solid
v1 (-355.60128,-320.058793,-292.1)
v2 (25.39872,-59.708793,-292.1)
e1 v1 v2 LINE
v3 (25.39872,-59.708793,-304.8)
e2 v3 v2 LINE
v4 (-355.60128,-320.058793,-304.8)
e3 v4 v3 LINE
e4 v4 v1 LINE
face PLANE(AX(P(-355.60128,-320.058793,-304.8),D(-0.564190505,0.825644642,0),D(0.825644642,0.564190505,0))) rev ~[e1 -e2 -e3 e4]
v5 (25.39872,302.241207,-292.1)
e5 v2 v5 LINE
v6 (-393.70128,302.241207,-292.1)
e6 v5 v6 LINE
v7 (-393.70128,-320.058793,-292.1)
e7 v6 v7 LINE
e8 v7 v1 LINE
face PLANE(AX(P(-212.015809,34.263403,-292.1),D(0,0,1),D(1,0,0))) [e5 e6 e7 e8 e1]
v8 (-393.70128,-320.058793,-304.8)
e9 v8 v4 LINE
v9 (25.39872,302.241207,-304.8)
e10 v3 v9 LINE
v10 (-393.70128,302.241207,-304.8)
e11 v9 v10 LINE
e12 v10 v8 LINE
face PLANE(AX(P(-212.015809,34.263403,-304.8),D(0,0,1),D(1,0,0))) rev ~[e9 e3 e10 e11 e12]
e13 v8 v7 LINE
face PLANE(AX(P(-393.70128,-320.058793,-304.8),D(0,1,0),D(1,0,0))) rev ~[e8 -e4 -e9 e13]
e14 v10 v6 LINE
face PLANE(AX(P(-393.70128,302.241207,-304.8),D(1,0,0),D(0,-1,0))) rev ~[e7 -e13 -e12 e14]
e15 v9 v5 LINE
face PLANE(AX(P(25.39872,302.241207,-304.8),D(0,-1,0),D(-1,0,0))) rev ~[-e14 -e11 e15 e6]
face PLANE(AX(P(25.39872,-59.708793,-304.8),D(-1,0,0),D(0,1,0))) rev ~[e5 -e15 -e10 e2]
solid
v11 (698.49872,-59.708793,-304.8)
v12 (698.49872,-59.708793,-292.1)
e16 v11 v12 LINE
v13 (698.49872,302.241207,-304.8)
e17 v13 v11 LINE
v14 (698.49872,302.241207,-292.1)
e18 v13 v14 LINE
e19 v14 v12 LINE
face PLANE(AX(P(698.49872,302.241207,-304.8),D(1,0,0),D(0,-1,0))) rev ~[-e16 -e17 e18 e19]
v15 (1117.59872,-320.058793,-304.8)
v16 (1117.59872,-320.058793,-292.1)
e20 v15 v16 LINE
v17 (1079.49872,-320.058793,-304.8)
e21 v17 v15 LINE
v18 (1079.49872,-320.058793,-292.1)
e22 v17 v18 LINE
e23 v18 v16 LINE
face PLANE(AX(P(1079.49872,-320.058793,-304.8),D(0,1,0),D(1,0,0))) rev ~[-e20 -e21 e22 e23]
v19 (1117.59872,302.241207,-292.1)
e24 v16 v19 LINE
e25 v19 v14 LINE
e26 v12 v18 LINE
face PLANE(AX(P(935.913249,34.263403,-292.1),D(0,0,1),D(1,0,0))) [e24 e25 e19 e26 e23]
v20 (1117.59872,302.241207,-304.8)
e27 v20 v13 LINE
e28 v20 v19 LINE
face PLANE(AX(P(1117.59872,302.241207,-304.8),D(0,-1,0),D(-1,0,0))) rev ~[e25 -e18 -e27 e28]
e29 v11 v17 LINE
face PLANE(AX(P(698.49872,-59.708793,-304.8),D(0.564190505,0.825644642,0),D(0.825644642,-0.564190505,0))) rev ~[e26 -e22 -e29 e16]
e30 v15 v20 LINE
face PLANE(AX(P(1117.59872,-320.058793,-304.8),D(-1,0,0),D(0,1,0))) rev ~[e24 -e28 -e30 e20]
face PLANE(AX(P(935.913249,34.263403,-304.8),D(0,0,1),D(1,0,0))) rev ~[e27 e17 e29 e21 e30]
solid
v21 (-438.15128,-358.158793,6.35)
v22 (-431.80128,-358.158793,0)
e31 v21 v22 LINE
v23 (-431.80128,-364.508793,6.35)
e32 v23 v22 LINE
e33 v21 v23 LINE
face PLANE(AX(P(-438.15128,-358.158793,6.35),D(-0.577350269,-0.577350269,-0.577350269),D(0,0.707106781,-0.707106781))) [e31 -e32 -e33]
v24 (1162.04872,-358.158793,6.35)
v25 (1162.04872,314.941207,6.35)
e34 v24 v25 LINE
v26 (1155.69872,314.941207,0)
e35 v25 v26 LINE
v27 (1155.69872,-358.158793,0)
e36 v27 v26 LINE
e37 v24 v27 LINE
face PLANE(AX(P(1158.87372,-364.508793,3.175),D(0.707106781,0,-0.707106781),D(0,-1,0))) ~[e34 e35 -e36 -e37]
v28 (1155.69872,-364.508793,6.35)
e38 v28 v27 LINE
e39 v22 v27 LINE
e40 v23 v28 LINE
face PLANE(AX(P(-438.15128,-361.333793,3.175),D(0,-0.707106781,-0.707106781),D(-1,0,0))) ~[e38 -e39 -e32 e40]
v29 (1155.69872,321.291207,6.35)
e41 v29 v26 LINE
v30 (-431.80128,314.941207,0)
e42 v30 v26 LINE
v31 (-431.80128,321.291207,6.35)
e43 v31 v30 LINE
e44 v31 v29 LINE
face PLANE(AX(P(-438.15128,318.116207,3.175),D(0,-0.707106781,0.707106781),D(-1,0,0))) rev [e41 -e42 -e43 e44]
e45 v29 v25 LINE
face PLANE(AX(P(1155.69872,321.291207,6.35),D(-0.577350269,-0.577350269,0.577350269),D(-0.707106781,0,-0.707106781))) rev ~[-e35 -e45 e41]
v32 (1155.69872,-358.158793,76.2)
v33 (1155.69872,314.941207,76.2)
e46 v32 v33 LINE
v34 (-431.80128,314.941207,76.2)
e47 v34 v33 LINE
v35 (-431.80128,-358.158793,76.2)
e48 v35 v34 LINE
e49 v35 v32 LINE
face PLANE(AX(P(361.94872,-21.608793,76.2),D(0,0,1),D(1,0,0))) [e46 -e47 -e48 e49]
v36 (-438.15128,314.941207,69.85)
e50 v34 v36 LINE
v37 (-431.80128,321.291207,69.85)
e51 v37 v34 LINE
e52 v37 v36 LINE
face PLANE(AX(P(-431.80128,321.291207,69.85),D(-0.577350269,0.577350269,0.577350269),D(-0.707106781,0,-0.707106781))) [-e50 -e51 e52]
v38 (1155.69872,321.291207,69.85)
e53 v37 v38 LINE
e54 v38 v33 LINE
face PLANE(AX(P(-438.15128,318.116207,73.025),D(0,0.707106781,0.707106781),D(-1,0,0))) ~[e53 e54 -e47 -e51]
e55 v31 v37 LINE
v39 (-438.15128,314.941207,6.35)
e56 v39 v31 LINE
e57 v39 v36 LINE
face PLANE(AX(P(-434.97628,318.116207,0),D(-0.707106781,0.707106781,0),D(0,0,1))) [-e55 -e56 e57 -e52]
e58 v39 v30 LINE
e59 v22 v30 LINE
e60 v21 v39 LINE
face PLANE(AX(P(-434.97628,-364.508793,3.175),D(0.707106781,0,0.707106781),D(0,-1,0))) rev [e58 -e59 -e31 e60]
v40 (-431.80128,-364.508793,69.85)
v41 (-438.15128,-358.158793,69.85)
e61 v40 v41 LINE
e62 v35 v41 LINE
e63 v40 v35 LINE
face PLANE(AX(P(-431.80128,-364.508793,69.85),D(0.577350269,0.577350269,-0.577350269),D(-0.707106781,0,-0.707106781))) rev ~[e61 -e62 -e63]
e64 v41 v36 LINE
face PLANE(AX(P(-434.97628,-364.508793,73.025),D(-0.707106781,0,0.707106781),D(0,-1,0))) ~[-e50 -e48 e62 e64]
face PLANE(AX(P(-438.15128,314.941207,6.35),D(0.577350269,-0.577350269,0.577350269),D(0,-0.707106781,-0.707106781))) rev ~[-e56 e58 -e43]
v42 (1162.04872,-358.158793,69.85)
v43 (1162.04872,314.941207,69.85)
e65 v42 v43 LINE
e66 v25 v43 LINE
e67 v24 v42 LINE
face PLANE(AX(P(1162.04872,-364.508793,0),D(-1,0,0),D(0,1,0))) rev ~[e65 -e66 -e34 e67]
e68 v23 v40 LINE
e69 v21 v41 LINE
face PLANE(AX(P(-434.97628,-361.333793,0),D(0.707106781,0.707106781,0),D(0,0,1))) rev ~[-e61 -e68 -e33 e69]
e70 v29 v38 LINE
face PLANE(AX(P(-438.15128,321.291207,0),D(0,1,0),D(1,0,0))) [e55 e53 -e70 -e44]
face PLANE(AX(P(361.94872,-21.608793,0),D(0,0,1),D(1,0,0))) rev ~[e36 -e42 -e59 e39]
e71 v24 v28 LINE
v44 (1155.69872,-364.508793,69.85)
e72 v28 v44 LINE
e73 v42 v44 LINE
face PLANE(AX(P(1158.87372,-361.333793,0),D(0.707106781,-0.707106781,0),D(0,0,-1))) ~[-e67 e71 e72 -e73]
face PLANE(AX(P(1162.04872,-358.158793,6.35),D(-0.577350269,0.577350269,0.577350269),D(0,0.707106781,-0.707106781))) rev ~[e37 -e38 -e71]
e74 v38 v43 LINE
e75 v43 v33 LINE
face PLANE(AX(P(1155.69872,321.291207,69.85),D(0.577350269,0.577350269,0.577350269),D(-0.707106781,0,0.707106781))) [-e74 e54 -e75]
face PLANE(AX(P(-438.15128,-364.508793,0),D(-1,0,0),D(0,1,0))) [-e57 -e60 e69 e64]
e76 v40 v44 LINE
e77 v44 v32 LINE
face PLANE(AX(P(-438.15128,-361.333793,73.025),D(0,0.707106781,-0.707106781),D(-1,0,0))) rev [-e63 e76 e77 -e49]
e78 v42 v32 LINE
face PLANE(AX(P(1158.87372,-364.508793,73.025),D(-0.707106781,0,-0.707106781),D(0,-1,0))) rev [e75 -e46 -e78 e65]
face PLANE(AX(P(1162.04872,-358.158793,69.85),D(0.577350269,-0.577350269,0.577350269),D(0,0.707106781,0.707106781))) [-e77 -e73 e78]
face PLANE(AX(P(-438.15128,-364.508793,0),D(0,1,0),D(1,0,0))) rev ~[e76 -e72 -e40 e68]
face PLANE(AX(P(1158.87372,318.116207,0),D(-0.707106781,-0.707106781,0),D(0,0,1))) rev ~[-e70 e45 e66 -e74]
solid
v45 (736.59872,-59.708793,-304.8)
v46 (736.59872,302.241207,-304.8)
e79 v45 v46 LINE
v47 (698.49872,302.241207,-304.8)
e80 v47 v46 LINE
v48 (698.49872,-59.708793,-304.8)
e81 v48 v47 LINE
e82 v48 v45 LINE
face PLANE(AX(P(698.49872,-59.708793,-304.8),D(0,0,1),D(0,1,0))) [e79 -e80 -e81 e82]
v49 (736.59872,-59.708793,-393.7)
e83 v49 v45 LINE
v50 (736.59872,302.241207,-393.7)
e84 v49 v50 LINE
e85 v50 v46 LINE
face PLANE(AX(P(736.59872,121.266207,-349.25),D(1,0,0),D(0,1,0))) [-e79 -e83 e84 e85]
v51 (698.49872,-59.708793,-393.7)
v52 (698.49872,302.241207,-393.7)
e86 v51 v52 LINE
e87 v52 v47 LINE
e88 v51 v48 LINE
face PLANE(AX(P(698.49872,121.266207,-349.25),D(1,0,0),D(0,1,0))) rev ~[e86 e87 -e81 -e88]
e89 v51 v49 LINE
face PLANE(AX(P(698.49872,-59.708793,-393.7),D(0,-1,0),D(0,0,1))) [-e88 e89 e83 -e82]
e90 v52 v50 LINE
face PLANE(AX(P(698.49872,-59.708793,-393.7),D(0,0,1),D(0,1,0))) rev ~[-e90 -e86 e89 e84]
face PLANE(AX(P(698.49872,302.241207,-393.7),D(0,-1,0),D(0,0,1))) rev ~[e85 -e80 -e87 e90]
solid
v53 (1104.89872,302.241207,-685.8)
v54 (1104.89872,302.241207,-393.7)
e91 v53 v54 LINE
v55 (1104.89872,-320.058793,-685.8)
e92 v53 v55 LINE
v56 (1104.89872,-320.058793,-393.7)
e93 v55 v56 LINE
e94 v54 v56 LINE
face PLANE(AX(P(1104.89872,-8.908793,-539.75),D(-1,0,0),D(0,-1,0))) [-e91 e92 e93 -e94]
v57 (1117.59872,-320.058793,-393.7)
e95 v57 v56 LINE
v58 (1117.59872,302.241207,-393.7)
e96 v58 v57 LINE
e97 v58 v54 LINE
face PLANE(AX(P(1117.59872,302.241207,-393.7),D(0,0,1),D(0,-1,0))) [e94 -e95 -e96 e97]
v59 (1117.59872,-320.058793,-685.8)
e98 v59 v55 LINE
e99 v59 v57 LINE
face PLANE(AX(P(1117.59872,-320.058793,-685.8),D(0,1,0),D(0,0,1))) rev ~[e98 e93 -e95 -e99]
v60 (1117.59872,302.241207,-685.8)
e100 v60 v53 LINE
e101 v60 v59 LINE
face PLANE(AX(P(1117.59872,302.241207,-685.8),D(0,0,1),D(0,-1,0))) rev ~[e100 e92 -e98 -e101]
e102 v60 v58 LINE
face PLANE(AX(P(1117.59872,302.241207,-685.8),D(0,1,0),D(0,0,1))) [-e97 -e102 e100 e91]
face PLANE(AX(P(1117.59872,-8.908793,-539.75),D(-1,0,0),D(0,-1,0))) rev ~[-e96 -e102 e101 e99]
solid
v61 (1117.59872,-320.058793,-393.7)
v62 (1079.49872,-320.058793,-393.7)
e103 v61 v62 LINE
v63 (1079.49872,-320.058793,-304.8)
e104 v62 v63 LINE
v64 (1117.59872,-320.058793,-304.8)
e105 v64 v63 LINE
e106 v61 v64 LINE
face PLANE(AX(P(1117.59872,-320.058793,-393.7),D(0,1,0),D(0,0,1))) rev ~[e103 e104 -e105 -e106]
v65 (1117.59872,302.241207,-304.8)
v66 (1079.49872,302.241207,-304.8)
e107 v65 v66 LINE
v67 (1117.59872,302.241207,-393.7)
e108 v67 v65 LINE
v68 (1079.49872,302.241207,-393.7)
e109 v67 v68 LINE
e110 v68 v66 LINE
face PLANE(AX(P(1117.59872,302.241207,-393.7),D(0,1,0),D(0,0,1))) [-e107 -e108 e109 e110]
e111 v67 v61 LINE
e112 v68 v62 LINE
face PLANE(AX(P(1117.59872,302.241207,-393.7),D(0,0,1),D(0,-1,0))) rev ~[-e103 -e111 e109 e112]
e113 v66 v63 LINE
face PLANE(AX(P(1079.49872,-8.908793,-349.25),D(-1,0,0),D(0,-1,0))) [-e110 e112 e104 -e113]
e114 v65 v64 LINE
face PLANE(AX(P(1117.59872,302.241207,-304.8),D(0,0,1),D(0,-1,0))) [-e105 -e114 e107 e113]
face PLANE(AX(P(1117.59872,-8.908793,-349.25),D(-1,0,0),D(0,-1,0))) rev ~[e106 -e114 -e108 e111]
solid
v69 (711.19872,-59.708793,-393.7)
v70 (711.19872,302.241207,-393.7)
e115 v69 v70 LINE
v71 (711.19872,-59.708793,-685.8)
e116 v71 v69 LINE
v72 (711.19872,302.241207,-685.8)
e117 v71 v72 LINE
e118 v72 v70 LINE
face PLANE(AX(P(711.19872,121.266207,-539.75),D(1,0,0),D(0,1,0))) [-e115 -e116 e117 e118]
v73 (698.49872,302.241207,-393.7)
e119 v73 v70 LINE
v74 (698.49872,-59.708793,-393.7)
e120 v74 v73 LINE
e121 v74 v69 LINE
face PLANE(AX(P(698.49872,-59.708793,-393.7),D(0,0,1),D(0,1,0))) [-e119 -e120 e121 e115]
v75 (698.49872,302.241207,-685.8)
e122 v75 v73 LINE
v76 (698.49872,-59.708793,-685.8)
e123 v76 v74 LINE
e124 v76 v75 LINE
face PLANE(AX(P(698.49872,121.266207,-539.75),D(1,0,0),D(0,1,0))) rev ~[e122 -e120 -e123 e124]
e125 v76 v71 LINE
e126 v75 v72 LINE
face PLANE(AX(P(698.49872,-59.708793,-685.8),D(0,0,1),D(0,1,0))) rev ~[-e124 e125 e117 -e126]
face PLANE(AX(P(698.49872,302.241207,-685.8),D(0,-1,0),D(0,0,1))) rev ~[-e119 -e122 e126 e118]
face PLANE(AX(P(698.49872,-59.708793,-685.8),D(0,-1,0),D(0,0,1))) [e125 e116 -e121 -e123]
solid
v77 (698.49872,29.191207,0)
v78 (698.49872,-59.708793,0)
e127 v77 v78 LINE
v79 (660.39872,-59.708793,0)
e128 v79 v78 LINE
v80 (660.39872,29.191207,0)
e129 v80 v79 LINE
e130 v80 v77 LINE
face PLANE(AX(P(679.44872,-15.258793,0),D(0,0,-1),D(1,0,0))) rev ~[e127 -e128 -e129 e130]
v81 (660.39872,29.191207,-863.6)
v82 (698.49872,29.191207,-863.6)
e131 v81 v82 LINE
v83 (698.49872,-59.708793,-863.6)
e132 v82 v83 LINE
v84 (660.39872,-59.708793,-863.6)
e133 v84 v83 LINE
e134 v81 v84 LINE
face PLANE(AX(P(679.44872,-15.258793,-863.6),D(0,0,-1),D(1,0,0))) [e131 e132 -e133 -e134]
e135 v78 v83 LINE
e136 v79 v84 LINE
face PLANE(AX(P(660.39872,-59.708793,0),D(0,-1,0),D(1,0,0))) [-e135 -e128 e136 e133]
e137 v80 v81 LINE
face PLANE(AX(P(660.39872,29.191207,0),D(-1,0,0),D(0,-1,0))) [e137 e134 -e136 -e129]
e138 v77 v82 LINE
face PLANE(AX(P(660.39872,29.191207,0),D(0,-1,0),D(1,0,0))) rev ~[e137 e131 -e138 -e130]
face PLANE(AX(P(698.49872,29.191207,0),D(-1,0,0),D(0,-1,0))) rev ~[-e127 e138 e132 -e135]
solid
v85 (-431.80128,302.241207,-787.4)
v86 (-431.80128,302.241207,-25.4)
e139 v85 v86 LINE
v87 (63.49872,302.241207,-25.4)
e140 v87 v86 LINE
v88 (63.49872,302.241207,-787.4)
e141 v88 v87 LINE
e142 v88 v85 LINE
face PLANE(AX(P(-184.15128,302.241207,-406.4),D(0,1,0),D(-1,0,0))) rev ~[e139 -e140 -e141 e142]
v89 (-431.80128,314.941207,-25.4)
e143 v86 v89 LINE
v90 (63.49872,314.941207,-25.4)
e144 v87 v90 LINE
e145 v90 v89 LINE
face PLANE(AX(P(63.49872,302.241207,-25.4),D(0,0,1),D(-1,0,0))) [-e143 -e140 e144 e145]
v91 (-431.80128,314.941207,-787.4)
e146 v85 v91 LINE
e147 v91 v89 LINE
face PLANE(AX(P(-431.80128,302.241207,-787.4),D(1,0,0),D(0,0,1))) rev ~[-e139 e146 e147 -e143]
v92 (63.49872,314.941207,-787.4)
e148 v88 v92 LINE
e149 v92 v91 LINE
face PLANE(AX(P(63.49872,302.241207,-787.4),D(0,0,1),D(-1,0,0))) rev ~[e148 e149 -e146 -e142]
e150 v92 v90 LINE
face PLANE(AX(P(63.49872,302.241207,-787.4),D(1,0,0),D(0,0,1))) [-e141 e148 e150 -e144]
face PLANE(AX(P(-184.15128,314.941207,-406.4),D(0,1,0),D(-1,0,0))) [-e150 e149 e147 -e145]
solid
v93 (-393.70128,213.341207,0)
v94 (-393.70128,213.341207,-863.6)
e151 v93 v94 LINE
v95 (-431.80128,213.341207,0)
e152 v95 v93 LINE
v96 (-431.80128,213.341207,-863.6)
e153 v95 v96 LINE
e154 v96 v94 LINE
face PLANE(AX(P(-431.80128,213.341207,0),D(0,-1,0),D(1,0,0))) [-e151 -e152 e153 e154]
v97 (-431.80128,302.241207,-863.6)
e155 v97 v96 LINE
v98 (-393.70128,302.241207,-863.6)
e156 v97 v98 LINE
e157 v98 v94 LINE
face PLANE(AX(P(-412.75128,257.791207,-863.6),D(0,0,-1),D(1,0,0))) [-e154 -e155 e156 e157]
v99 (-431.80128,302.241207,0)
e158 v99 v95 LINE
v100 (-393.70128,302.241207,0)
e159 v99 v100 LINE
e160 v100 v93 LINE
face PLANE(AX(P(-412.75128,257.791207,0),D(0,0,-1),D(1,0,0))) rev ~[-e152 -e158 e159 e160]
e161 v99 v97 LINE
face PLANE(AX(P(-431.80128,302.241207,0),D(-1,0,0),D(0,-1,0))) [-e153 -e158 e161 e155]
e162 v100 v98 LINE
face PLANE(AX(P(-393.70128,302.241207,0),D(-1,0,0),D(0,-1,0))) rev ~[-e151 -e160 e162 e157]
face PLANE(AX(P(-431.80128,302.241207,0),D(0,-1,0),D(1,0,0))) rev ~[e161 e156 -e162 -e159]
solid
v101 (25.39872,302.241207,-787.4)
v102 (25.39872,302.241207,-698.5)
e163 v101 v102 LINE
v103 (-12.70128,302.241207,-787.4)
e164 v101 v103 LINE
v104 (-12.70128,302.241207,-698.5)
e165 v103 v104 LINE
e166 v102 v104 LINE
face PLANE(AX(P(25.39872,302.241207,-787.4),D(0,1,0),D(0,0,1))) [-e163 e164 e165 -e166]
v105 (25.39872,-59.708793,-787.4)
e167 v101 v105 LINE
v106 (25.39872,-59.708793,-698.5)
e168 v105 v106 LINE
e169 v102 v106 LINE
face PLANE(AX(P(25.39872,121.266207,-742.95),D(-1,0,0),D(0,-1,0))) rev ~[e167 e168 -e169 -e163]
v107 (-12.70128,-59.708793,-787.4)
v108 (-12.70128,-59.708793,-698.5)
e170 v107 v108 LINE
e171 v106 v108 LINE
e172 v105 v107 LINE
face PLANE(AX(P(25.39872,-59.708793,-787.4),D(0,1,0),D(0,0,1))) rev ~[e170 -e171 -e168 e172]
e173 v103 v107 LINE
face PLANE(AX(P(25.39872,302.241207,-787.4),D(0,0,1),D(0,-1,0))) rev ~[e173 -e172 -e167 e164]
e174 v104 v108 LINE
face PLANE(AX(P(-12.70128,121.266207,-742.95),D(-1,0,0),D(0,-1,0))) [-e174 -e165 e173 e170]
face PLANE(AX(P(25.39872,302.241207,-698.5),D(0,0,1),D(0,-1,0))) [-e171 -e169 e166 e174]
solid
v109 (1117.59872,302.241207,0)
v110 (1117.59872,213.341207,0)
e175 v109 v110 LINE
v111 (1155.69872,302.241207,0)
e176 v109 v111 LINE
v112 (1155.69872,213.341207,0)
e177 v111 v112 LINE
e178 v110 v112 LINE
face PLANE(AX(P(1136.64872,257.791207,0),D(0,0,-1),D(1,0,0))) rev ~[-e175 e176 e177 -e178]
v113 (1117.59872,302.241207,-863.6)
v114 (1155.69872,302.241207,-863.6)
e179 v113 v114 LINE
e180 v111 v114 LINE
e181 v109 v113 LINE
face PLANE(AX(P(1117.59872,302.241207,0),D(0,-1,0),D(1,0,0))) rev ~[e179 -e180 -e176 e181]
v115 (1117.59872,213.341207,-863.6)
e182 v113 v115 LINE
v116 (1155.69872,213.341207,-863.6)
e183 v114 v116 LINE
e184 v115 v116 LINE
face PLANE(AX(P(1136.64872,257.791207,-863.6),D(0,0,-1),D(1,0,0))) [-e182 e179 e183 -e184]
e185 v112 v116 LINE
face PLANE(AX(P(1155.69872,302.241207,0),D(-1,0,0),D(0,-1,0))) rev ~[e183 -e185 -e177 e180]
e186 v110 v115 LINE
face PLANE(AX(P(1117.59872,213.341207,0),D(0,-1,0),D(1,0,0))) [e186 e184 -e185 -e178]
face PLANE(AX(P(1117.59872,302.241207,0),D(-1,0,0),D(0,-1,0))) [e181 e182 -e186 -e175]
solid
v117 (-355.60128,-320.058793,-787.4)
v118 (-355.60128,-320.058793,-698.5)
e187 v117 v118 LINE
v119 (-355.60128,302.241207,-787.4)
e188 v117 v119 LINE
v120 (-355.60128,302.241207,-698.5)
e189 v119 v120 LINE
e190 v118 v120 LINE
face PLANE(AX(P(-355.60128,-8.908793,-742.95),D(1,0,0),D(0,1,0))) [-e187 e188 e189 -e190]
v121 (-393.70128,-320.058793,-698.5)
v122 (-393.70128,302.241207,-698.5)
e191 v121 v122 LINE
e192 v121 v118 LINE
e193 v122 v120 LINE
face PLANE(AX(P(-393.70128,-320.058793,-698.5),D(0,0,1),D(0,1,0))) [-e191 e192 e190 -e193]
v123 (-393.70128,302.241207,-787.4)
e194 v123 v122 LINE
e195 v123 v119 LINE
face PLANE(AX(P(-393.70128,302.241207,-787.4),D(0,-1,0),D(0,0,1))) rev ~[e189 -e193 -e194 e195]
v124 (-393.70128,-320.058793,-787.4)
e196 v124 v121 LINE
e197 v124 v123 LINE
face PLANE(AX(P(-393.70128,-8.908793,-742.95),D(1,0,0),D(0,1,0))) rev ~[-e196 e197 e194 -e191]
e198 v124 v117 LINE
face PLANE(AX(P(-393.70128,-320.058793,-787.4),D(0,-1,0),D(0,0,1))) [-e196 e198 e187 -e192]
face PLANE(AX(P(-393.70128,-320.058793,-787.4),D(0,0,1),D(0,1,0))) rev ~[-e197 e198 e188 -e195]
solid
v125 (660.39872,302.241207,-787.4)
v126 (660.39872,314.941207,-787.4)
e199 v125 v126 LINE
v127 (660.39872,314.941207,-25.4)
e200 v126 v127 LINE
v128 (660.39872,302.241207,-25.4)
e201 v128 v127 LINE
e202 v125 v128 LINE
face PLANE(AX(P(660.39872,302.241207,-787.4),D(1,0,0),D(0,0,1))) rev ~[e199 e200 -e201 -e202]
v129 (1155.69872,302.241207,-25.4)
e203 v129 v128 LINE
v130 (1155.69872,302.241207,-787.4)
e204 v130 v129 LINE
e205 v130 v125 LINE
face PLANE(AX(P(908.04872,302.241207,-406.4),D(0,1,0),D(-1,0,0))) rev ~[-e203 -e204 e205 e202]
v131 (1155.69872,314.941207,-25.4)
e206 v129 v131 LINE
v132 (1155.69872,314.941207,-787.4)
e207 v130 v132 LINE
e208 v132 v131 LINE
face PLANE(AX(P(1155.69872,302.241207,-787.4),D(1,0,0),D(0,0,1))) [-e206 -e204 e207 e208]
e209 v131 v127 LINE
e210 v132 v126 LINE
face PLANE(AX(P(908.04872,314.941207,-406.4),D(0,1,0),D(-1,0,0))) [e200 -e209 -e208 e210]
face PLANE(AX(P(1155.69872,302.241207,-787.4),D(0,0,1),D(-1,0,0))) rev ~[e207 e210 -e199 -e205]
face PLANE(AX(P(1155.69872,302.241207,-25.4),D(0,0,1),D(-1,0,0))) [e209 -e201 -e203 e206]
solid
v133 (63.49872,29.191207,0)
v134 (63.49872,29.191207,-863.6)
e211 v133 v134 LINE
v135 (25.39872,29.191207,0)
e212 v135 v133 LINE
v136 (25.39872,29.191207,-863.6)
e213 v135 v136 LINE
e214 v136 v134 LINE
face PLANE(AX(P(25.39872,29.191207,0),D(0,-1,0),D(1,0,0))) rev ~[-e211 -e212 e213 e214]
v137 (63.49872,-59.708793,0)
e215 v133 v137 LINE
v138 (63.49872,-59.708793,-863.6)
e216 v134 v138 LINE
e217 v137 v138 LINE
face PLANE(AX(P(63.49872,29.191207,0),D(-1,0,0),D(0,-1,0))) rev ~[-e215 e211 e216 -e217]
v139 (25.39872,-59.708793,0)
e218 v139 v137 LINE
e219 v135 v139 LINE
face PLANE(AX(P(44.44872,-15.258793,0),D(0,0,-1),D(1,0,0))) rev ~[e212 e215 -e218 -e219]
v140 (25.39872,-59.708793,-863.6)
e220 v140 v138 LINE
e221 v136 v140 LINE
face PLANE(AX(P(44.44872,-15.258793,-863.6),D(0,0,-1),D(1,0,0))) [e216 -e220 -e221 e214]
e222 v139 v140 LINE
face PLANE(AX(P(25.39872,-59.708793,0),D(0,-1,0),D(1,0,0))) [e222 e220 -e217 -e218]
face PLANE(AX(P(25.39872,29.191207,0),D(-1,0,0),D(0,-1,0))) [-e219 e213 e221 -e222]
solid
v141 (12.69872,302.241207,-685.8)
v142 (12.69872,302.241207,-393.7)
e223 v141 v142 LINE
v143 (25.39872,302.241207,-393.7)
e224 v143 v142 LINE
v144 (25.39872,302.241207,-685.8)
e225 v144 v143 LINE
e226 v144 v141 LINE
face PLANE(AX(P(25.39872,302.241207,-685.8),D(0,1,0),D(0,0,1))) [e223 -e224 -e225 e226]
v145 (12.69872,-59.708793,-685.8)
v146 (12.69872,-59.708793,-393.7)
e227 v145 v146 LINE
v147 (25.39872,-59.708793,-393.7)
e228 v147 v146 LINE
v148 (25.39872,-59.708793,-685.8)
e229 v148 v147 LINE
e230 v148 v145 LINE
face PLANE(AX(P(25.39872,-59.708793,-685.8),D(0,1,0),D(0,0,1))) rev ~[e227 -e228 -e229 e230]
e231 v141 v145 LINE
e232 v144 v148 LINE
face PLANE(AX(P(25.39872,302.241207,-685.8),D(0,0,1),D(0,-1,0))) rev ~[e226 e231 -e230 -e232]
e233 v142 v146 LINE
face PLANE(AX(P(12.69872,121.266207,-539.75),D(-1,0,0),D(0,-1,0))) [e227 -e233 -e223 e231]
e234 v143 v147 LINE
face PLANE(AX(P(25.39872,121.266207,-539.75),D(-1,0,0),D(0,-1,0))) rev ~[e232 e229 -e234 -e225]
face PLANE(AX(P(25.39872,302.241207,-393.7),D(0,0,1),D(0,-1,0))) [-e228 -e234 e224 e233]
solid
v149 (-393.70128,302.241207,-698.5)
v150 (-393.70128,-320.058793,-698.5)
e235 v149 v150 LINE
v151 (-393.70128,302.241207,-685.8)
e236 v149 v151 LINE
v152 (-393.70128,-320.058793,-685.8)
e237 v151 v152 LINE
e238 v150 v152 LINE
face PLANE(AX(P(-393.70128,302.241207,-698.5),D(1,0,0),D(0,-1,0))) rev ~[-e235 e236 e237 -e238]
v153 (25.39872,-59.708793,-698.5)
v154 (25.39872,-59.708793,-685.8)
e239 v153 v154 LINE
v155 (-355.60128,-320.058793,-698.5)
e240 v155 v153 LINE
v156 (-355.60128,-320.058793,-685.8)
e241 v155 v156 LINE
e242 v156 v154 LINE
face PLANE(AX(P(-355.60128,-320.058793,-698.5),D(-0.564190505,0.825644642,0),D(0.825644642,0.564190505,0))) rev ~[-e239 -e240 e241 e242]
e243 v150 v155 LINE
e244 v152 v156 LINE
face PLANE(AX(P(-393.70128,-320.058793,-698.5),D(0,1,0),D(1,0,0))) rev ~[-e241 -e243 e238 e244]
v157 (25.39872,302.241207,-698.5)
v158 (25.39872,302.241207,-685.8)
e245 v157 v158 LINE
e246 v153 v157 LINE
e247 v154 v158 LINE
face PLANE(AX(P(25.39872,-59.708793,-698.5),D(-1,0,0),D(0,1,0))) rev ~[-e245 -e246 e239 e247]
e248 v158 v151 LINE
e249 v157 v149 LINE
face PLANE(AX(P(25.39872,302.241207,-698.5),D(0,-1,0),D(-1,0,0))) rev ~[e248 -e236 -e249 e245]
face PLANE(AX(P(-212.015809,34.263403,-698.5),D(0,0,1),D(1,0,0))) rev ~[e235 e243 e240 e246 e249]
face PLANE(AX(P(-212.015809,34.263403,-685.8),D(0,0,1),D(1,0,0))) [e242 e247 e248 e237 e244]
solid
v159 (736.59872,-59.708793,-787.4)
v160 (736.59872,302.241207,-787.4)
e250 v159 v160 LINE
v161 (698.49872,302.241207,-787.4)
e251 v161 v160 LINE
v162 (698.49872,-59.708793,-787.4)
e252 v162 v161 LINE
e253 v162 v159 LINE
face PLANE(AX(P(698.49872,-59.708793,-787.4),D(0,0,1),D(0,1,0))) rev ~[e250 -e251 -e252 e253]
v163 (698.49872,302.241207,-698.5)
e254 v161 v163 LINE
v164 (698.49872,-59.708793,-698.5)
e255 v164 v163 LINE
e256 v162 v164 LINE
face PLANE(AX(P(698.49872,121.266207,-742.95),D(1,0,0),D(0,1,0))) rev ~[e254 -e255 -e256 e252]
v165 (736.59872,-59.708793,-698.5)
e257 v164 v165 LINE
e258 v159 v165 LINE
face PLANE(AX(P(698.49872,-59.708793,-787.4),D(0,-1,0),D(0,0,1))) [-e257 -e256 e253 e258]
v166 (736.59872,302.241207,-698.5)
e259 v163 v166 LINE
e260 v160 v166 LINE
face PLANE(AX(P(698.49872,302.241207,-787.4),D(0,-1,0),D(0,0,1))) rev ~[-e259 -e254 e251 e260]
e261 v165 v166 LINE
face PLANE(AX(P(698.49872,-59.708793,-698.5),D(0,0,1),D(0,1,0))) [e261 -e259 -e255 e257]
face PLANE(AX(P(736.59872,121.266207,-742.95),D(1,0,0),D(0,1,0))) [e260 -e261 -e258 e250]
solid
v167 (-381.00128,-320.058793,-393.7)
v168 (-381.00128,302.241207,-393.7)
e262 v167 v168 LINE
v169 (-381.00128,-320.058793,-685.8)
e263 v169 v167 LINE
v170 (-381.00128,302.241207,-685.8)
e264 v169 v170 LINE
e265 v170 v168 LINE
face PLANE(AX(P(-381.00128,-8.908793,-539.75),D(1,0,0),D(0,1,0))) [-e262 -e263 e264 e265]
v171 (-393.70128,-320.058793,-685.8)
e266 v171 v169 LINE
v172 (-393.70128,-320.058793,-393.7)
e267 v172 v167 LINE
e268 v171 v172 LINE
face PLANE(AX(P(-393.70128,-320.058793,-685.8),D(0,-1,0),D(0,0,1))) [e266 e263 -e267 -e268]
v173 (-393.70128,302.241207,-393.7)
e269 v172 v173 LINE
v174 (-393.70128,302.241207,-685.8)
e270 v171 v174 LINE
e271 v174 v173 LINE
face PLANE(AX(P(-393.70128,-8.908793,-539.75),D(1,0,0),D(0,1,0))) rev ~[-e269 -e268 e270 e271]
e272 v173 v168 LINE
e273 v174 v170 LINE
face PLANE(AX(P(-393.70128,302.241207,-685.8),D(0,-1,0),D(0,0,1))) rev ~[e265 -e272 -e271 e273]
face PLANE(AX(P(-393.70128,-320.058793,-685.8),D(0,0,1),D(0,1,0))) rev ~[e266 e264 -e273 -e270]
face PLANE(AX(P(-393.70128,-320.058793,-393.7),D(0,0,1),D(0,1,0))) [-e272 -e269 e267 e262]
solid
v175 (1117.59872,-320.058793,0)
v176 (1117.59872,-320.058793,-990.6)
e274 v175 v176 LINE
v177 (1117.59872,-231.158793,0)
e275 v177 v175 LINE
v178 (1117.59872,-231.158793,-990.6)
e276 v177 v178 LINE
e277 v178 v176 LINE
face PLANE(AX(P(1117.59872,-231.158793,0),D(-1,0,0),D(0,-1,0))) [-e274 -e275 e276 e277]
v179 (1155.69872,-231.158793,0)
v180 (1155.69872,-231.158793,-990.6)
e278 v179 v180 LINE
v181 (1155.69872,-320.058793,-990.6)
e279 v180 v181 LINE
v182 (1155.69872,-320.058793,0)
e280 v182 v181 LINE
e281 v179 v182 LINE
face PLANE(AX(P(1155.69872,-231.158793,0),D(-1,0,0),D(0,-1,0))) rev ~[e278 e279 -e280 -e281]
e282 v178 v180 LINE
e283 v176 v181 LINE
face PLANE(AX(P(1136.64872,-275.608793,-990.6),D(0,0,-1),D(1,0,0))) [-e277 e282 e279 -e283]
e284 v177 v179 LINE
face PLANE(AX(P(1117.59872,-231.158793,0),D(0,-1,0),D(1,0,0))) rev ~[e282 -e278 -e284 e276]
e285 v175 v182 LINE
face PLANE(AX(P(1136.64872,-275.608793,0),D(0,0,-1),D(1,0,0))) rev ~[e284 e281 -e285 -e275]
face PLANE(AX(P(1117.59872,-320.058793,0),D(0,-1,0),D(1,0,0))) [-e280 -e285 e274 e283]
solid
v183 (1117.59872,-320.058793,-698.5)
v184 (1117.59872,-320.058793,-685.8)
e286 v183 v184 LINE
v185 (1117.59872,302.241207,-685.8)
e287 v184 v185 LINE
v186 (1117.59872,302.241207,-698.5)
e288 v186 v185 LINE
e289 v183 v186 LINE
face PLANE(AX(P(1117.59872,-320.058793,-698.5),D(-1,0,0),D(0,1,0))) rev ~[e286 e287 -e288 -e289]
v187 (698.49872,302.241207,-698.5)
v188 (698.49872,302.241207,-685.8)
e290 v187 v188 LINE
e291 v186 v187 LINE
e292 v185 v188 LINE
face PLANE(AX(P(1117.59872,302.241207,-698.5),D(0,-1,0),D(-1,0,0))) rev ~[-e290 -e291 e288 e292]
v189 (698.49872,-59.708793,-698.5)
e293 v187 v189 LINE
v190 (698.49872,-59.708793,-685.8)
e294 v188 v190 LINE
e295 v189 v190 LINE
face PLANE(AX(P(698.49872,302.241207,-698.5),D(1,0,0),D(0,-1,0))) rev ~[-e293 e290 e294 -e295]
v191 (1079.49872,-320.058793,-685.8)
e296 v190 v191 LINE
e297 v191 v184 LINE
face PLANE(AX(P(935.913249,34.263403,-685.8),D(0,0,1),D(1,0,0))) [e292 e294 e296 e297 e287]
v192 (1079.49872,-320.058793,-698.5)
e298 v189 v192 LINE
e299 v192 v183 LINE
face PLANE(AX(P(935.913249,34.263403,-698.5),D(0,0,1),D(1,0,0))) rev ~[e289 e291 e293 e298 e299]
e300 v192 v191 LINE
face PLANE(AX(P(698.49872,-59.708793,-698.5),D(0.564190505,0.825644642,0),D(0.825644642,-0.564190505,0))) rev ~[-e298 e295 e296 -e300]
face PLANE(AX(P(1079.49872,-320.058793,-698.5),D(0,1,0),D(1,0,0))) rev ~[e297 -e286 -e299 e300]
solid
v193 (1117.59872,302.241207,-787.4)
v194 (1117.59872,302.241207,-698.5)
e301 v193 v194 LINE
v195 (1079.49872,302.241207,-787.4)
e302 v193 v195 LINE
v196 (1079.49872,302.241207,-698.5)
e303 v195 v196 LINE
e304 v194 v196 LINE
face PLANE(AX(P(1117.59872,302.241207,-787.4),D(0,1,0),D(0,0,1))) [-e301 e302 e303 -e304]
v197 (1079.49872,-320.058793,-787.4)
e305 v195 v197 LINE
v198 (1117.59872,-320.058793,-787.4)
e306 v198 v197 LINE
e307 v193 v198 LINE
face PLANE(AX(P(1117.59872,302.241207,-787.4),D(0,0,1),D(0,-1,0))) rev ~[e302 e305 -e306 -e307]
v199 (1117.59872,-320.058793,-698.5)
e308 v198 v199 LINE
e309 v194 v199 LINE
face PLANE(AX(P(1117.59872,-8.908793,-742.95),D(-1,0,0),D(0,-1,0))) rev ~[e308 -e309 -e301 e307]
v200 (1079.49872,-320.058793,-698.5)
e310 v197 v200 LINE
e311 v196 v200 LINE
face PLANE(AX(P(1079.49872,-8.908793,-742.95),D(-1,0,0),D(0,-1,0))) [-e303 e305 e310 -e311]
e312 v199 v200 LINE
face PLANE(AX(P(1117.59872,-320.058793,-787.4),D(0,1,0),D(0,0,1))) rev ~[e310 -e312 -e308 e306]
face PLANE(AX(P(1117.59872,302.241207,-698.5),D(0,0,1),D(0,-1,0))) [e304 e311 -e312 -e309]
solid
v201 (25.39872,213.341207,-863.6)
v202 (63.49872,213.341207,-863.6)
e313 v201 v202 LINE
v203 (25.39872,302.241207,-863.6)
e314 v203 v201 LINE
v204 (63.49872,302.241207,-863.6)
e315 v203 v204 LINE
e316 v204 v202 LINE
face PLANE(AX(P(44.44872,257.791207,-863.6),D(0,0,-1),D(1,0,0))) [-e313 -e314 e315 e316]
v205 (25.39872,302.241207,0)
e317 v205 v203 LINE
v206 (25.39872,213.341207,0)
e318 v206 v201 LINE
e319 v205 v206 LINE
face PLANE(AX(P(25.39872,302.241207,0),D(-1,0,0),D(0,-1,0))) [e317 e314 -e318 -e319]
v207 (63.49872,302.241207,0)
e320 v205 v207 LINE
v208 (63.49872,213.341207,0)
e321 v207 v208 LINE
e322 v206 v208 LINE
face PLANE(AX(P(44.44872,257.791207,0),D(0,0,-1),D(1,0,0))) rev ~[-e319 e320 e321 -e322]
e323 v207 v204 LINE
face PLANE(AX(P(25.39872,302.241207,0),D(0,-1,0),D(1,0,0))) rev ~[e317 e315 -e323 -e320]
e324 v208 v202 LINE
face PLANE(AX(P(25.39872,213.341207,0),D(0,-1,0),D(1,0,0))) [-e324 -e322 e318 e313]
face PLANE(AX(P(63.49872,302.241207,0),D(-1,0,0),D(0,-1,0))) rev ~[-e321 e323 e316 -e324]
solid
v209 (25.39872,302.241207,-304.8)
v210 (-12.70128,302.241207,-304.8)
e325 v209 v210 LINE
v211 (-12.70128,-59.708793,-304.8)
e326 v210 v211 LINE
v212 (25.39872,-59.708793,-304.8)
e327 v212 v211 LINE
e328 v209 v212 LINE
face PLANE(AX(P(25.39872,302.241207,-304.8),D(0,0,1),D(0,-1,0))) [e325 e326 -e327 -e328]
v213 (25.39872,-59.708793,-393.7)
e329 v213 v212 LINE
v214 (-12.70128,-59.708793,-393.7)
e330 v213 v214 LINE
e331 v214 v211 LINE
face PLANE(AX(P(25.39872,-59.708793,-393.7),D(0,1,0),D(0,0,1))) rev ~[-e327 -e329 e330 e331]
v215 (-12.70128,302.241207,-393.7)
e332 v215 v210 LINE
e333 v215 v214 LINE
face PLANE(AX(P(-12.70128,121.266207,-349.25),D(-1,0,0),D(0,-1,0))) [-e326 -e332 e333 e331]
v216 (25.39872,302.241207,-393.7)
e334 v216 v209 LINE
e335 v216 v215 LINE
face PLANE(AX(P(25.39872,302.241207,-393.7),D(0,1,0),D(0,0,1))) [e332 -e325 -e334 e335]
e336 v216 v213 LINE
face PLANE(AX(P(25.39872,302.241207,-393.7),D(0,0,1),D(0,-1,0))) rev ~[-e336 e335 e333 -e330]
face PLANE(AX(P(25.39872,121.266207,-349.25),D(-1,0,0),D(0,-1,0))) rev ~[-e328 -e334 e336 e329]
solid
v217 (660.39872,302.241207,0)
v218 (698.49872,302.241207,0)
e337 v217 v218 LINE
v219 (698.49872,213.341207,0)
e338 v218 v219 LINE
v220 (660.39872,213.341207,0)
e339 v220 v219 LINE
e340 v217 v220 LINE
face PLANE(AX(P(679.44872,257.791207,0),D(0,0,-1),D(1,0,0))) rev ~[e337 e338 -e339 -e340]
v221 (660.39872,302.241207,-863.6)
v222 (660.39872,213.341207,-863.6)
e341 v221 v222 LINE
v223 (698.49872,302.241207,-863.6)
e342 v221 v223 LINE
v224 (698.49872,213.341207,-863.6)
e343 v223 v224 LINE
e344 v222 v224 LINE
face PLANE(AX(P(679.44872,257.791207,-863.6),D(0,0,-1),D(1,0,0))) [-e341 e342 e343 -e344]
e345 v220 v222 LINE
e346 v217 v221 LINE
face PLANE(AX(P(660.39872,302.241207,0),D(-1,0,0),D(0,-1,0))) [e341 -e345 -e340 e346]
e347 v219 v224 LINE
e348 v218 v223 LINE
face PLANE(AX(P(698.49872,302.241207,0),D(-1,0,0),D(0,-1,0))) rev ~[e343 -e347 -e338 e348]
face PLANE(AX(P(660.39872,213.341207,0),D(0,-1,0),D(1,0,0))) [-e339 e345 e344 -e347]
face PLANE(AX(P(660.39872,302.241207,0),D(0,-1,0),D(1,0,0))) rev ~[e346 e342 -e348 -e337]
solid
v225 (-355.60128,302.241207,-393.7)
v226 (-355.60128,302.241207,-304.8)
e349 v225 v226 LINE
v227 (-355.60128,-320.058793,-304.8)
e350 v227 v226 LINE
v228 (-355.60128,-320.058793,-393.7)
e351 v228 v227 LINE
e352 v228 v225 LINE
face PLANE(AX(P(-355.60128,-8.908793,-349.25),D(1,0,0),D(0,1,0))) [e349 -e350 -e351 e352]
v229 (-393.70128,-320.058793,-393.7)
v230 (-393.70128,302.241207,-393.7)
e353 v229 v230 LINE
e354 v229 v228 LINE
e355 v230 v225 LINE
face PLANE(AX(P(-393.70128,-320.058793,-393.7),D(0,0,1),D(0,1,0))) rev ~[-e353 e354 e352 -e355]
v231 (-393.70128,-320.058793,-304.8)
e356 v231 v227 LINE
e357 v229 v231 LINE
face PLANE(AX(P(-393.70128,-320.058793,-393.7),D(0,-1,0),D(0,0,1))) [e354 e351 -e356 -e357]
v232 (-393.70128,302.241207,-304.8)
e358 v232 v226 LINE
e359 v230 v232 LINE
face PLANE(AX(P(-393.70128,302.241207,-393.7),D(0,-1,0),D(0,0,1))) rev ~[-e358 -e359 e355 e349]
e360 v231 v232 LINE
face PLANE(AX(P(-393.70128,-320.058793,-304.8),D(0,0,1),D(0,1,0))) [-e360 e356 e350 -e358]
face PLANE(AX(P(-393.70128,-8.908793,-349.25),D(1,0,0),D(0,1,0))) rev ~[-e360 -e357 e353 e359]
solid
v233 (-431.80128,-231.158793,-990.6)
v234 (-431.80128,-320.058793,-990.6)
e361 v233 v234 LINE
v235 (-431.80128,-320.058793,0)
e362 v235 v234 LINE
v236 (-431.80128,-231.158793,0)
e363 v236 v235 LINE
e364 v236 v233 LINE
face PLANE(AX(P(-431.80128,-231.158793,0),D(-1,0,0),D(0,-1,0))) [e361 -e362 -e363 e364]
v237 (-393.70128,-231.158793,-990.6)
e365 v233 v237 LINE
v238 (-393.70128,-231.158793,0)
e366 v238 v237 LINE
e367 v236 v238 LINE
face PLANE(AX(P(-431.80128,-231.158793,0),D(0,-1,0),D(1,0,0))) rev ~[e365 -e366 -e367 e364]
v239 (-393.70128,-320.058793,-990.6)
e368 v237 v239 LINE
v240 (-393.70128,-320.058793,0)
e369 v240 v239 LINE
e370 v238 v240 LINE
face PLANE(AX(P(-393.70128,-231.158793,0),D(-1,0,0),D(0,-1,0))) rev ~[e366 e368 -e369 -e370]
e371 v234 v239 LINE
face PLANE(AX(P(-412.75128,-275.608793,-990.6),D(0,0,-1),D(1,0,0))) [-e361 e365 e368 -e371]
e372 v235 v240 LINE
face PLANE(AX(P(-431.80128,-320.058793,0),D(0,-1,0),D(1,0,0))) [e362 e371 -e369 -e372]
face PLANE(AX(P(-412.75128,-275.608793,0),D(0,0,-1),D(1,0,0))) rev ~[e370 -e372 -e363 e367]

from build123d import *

# Parameters (mm, degrees)
F0_W      = 1600.2
F0_H      = 685.8
F1_DEPTH  = 76.2
F2_SIZE   = 6.35
F3_W      = 38.1
F3_H      = 88.9
F4_DEPTH  = 990.6
F4_FACE_W = 38.1
F4_FACE_H = 88.9
F5_DEPTH  = 127
F6_W      = 622.3
F6_H      = 88.9
F7_DEPTH  = 38.1
F8_W      = 361.95
F8_H      = 88.9
F9_DEPTH  = 38.1
F10_W     = 361.95
F10_H     = 88.9
F11_DEPTH = 38.1
F12_W     = 622.3
F12_H     = 88.9
F13_DEPTH = 38.1
F15_DEPTH = 12.7
F17_DEPTH = 12.7
F19_DEPTH = 12.7
F21_DEPTH = 12.7
F22_W     = 495.3
F22_H     = 762
F23_DEPTH = 12.7
F24_W     = 495.3
F24_H     = 762
F25_DEPTH = 12.7
F26_W     = 622.3
F26_H     = 292.1
F27_DEPTH = 12.7
F28_W     = 361.95
F28_H     = 292.1
F29_DEPTH = 12.7
F30_W     = 361.95
F30_H     = 292.1
F31_DEPTH = 12.7
F32_W     = 622.3
F32_H     = 292.1
F33_DEPTH = 12.7


with BuildPart() as f1:
    # F0 (on Top) → F1 (new body)
    with BuildSketch(Plane.XY):
        with Locations((361.94872, -21.608793)):
            Rectangle(F0_W, F0_H)
    extrude(amount=F1_DEPTH)

    # F2
    f2_edges = [f1.edges().sort_by_distance(p)[0] for p in [
        (-438.15128, -21.608793, 76.2),
        (361.94872, -364.508793, 76.2),
        (361.94872, -364.508793, 0),
        (-438.15128, -364.508793, 38.1),
        (1162.04872, -364.508793, 38.1),
        (1162.04872, -21.608793, 76.2),
        (1162.04872, -21.608793, 0),
        (1162.04872, 321.291207, 38.1),
        (361.94872, 321.291207, 76.2),
        (361.94872, 321.291207, 0),
        (-438.15128, 321.291207, 38.1),
        (-438.15128, -21.608793, 0),
    ]]
    chamfer(f2_edges, length=F2_SIZE)


with BuildPart() as f4:
    # F3 (on face) → F4 (new body)
    with BuildSketch(Plane(origin=(0, 0, 0), x_dir=(1, 0, 0), z_dir=(0, 0, -1))):
        with Locations((-412.75128, -257.791207)):
            Rectangle(F3_W, F3_H)
        with Locations((-412.75128, 275.608793)):
            Rectangle(F3_W, F3_H)
        with Locations((44.44872, 15.258793)):
            Rectangle(F3_W, F3_H)
        with Locations((44.44872, -257.791207)):
            Rectangle(F3_W, F3_H)
        with Locations((679.44872, -257.791207)):
            Rectangle(F3_W, F3_H)
        with Locations((679.44872, 15.258793)):
            Rectangle(F3_W, F3_H)
        with Locations((1136.64872, 275.608793)):
            Rectangle(F3_W, F3_H)
        with Locations((1136.64872, -257.791207)):
            Rectangle(F3_W, F3_H)
    extrude(amount=F4_DEPTH)

    # F4_face (on face) → F5 (cut)
    with BuildSketch(Plane(origin=(-412.75128, 257.791207, -990.6), x_dir=(1, 0, 0), z_dir=(0, 0, -1))):
        Rectangle(F4_FACE_W, F4_FACE_H)
        with Locations((457.2, 0)):
            Rectangle(F4_FACE_W, F4_FACE_H)
        with Locations((457.2, 273.05)):
            Rectangle(F4_FACE_W, F4_FACE_H)
        with Locations((1092.2, 273.05)):
            Rectangle(F4_FACE_W, F4_FACE_H)
        with Locations((1092.2, 0)):
            Rectangle(F4_FACE_W, F4_FACE_H)
        with Locations((1549.4, 0)):
            Rectangle(F4_FACE_W, F4_FACE_H)
    extrude(amount=-F5_DEPTH, mode=Mode.SUBTRACT)


with BuildPart() as f7:
    # F6 (on face) → F7 (new body)
    with BuildSketch(Plane.YZ.offset(-393.70128)):
        with Locations((-8.908793, -349.25)):
            Rectangle(F6_W, F6_H)
        with Locations((-8.908793, -742.95)):
            Rectangle(F6_W, F6_H)
    extrude(amount=F7_DEPTH)


with BuildPart() as f9:
    # F8 (on face) → F9 (new body)
    with BuildSketch(Plane(origin=(25.39872, 0, 0), x_dir=(0, -1, 0), z_dir=(-1, 0, 0))):
        with Locations((-121.266207, -349.25)):
            Rectangle(F8_W, F8_H)
        with Locations((-121.266207, -742.95)):
            Rectangle(F8_W, F8_H)
    extrude(amount=F9_DEPTH)


with BuildPart() as f11:
    # F10 (on face) → F11 (new body)
    with BuildSketch(Plane.YZ.offset(698.49872)):
        with Locations((121.266207, -349.25)):
            Rectangle(F10_W, F10_H)
        with Locations((121.266207, -742.95)):
            Rectangle(F10_W, F10_H)
    extrude(amount=F11_DEPTH)


with BuildPart() as f13:
    # F12 (on face) → F13 (new body)
    with BuildSketch(Plane(origin=(1117.59872, 0, 0), x_dir=(0, -1, 0), z_dir=(-1, 0, 0))):
        with Locations((8.908793, -742.95)):
            Rectangle(F12_W, F12_H)
        with Locations((8.908793, -349.25)):
            Rectangle(F12_W, F12_H)
    extrude(amount=F13_DEPTH)


with BuildPart() as f15:
    # F14 (on face) → F15 (new body)
    with BuildSketch(Plane.XY.offset(-304.8)):
        Polygon((25.39872, -59.708793), (25.39872, 302.241207), (-393.70128, 302.241207), (-393.70128, -320.058793), (-355.60128, -320.058793), align=None)
    extrude(amount=F15_DEPTH)


with BuildPart() as f17:
    # F16 (on face) → F17 (new body)
    with BuildSketch(Plane.XY.offset(-698.5)):
        Polygon((25.39872, -59.708793), (25.39872, 302.241207), (-393.70128, 302.241207), (-393.70128, -320.058793), (-355.60128, -320.058793), align=None)
    extrude(amount=F17_DEPTH)


with BuildPart() as f19:
    # F18 (on face) → F19 (new body)
    with BuildSketch(Plane.XY.offset(-304.8)):
        Polygon((1117.59872, 302.241207), (698.49872, 302.241207), (698.49872, -59.708793), (1079.49872, -320.058793), (1117.59872, -320.058793), align=None)
    extrude(amount=F19_DEPTH)


with BuildPart() as f21:
    # F20 (on face) → F21 (new body)
    with BuildSketch(Plane.XY.offset(-698.5)):
        Polygon((1117.59872, 302.241207), (698.49872, 302.241207), (698.49872, -59.708793), (1079.49872, -320.058793), (1117.59872, -320.058793), align=None)
    extrude(amount=F21_DEPTH)


with BuildPart() as f23:
    # F22 (on face) → F23 (new body)
    with BuildSketch(Plane(origin=(0, 302.241207, 0), x_dir=(-1, 0, 0), z_dir=(0, 1, 0))):
        with Locations((-908.04872, -406.4)):
            Rectangle(F22_W, F22_H)
    extrude(amount=F23_DEPTH)


with BuildPart() as f25:
    # F24 (on face) → F25 (new body)
    with BuildSketch(Plane(origin=(0, 302.241207, 0), x_dir=(-1, 0, 0), z_dir=(0, 1, 0))):
        with Locations((184.15128, -406.4)):
            Rectangle(F24_W, F24_H)
    extrude(amount=F25_DEPTH)


with BuildPart() as f27:
    # F26 (on face) → F27 (new body)
    with BuildSketch(Plane.YZ.offset(-393.70128)):
        with Locations((-8.908793, -539.75)):
            Rectangle(F26_W, F26_H)
    extrude(amount=F27_DEPTH)


with BuildPart() as f29:
    # F28 (on face) → F29 (new body)
    with BuildSketch(Plane(origin=(25.39872, 0, 0), x_dir=(0, -1, 0), z_dir=(-1, 0, 0))):
        with Locations((-121.266207, -539.75)):
            Rectangle(F28_W, F28_H)
    extrude(amount=F29_DEPTH)


with BuildPart() as f31:
    # F30 (on face) → F31 (new body)
    with BuildSketch(Plane.YZ.offset(698.49872)):
        with Locations((121.266207, -539.75)):
            Rectangle(F30_W, F30_H)
    extrude(amount=F31_DEPTH)


with BuildPart() as f33:
    # F32 (on face) → F33 (new body)
    with BuildSketch(Plane(origin=(1117.59872, 0, 0), x_dir=(0, -1, 0), z_dir=(-1, 0, 0))):
        with Locations((8.908793, -539.75)):
            Rectangle(F32_W, F32_H)
    extrude(amount=F33_DEPTH)


solid = Compound([f1.part, f4.part, f7.part, f9.part, f11.part, f13.part, f15.part, f17.part, f19.part, f21.part, f23.part, f25.part, f27.part, f29.part, f31.part, f33.part])
